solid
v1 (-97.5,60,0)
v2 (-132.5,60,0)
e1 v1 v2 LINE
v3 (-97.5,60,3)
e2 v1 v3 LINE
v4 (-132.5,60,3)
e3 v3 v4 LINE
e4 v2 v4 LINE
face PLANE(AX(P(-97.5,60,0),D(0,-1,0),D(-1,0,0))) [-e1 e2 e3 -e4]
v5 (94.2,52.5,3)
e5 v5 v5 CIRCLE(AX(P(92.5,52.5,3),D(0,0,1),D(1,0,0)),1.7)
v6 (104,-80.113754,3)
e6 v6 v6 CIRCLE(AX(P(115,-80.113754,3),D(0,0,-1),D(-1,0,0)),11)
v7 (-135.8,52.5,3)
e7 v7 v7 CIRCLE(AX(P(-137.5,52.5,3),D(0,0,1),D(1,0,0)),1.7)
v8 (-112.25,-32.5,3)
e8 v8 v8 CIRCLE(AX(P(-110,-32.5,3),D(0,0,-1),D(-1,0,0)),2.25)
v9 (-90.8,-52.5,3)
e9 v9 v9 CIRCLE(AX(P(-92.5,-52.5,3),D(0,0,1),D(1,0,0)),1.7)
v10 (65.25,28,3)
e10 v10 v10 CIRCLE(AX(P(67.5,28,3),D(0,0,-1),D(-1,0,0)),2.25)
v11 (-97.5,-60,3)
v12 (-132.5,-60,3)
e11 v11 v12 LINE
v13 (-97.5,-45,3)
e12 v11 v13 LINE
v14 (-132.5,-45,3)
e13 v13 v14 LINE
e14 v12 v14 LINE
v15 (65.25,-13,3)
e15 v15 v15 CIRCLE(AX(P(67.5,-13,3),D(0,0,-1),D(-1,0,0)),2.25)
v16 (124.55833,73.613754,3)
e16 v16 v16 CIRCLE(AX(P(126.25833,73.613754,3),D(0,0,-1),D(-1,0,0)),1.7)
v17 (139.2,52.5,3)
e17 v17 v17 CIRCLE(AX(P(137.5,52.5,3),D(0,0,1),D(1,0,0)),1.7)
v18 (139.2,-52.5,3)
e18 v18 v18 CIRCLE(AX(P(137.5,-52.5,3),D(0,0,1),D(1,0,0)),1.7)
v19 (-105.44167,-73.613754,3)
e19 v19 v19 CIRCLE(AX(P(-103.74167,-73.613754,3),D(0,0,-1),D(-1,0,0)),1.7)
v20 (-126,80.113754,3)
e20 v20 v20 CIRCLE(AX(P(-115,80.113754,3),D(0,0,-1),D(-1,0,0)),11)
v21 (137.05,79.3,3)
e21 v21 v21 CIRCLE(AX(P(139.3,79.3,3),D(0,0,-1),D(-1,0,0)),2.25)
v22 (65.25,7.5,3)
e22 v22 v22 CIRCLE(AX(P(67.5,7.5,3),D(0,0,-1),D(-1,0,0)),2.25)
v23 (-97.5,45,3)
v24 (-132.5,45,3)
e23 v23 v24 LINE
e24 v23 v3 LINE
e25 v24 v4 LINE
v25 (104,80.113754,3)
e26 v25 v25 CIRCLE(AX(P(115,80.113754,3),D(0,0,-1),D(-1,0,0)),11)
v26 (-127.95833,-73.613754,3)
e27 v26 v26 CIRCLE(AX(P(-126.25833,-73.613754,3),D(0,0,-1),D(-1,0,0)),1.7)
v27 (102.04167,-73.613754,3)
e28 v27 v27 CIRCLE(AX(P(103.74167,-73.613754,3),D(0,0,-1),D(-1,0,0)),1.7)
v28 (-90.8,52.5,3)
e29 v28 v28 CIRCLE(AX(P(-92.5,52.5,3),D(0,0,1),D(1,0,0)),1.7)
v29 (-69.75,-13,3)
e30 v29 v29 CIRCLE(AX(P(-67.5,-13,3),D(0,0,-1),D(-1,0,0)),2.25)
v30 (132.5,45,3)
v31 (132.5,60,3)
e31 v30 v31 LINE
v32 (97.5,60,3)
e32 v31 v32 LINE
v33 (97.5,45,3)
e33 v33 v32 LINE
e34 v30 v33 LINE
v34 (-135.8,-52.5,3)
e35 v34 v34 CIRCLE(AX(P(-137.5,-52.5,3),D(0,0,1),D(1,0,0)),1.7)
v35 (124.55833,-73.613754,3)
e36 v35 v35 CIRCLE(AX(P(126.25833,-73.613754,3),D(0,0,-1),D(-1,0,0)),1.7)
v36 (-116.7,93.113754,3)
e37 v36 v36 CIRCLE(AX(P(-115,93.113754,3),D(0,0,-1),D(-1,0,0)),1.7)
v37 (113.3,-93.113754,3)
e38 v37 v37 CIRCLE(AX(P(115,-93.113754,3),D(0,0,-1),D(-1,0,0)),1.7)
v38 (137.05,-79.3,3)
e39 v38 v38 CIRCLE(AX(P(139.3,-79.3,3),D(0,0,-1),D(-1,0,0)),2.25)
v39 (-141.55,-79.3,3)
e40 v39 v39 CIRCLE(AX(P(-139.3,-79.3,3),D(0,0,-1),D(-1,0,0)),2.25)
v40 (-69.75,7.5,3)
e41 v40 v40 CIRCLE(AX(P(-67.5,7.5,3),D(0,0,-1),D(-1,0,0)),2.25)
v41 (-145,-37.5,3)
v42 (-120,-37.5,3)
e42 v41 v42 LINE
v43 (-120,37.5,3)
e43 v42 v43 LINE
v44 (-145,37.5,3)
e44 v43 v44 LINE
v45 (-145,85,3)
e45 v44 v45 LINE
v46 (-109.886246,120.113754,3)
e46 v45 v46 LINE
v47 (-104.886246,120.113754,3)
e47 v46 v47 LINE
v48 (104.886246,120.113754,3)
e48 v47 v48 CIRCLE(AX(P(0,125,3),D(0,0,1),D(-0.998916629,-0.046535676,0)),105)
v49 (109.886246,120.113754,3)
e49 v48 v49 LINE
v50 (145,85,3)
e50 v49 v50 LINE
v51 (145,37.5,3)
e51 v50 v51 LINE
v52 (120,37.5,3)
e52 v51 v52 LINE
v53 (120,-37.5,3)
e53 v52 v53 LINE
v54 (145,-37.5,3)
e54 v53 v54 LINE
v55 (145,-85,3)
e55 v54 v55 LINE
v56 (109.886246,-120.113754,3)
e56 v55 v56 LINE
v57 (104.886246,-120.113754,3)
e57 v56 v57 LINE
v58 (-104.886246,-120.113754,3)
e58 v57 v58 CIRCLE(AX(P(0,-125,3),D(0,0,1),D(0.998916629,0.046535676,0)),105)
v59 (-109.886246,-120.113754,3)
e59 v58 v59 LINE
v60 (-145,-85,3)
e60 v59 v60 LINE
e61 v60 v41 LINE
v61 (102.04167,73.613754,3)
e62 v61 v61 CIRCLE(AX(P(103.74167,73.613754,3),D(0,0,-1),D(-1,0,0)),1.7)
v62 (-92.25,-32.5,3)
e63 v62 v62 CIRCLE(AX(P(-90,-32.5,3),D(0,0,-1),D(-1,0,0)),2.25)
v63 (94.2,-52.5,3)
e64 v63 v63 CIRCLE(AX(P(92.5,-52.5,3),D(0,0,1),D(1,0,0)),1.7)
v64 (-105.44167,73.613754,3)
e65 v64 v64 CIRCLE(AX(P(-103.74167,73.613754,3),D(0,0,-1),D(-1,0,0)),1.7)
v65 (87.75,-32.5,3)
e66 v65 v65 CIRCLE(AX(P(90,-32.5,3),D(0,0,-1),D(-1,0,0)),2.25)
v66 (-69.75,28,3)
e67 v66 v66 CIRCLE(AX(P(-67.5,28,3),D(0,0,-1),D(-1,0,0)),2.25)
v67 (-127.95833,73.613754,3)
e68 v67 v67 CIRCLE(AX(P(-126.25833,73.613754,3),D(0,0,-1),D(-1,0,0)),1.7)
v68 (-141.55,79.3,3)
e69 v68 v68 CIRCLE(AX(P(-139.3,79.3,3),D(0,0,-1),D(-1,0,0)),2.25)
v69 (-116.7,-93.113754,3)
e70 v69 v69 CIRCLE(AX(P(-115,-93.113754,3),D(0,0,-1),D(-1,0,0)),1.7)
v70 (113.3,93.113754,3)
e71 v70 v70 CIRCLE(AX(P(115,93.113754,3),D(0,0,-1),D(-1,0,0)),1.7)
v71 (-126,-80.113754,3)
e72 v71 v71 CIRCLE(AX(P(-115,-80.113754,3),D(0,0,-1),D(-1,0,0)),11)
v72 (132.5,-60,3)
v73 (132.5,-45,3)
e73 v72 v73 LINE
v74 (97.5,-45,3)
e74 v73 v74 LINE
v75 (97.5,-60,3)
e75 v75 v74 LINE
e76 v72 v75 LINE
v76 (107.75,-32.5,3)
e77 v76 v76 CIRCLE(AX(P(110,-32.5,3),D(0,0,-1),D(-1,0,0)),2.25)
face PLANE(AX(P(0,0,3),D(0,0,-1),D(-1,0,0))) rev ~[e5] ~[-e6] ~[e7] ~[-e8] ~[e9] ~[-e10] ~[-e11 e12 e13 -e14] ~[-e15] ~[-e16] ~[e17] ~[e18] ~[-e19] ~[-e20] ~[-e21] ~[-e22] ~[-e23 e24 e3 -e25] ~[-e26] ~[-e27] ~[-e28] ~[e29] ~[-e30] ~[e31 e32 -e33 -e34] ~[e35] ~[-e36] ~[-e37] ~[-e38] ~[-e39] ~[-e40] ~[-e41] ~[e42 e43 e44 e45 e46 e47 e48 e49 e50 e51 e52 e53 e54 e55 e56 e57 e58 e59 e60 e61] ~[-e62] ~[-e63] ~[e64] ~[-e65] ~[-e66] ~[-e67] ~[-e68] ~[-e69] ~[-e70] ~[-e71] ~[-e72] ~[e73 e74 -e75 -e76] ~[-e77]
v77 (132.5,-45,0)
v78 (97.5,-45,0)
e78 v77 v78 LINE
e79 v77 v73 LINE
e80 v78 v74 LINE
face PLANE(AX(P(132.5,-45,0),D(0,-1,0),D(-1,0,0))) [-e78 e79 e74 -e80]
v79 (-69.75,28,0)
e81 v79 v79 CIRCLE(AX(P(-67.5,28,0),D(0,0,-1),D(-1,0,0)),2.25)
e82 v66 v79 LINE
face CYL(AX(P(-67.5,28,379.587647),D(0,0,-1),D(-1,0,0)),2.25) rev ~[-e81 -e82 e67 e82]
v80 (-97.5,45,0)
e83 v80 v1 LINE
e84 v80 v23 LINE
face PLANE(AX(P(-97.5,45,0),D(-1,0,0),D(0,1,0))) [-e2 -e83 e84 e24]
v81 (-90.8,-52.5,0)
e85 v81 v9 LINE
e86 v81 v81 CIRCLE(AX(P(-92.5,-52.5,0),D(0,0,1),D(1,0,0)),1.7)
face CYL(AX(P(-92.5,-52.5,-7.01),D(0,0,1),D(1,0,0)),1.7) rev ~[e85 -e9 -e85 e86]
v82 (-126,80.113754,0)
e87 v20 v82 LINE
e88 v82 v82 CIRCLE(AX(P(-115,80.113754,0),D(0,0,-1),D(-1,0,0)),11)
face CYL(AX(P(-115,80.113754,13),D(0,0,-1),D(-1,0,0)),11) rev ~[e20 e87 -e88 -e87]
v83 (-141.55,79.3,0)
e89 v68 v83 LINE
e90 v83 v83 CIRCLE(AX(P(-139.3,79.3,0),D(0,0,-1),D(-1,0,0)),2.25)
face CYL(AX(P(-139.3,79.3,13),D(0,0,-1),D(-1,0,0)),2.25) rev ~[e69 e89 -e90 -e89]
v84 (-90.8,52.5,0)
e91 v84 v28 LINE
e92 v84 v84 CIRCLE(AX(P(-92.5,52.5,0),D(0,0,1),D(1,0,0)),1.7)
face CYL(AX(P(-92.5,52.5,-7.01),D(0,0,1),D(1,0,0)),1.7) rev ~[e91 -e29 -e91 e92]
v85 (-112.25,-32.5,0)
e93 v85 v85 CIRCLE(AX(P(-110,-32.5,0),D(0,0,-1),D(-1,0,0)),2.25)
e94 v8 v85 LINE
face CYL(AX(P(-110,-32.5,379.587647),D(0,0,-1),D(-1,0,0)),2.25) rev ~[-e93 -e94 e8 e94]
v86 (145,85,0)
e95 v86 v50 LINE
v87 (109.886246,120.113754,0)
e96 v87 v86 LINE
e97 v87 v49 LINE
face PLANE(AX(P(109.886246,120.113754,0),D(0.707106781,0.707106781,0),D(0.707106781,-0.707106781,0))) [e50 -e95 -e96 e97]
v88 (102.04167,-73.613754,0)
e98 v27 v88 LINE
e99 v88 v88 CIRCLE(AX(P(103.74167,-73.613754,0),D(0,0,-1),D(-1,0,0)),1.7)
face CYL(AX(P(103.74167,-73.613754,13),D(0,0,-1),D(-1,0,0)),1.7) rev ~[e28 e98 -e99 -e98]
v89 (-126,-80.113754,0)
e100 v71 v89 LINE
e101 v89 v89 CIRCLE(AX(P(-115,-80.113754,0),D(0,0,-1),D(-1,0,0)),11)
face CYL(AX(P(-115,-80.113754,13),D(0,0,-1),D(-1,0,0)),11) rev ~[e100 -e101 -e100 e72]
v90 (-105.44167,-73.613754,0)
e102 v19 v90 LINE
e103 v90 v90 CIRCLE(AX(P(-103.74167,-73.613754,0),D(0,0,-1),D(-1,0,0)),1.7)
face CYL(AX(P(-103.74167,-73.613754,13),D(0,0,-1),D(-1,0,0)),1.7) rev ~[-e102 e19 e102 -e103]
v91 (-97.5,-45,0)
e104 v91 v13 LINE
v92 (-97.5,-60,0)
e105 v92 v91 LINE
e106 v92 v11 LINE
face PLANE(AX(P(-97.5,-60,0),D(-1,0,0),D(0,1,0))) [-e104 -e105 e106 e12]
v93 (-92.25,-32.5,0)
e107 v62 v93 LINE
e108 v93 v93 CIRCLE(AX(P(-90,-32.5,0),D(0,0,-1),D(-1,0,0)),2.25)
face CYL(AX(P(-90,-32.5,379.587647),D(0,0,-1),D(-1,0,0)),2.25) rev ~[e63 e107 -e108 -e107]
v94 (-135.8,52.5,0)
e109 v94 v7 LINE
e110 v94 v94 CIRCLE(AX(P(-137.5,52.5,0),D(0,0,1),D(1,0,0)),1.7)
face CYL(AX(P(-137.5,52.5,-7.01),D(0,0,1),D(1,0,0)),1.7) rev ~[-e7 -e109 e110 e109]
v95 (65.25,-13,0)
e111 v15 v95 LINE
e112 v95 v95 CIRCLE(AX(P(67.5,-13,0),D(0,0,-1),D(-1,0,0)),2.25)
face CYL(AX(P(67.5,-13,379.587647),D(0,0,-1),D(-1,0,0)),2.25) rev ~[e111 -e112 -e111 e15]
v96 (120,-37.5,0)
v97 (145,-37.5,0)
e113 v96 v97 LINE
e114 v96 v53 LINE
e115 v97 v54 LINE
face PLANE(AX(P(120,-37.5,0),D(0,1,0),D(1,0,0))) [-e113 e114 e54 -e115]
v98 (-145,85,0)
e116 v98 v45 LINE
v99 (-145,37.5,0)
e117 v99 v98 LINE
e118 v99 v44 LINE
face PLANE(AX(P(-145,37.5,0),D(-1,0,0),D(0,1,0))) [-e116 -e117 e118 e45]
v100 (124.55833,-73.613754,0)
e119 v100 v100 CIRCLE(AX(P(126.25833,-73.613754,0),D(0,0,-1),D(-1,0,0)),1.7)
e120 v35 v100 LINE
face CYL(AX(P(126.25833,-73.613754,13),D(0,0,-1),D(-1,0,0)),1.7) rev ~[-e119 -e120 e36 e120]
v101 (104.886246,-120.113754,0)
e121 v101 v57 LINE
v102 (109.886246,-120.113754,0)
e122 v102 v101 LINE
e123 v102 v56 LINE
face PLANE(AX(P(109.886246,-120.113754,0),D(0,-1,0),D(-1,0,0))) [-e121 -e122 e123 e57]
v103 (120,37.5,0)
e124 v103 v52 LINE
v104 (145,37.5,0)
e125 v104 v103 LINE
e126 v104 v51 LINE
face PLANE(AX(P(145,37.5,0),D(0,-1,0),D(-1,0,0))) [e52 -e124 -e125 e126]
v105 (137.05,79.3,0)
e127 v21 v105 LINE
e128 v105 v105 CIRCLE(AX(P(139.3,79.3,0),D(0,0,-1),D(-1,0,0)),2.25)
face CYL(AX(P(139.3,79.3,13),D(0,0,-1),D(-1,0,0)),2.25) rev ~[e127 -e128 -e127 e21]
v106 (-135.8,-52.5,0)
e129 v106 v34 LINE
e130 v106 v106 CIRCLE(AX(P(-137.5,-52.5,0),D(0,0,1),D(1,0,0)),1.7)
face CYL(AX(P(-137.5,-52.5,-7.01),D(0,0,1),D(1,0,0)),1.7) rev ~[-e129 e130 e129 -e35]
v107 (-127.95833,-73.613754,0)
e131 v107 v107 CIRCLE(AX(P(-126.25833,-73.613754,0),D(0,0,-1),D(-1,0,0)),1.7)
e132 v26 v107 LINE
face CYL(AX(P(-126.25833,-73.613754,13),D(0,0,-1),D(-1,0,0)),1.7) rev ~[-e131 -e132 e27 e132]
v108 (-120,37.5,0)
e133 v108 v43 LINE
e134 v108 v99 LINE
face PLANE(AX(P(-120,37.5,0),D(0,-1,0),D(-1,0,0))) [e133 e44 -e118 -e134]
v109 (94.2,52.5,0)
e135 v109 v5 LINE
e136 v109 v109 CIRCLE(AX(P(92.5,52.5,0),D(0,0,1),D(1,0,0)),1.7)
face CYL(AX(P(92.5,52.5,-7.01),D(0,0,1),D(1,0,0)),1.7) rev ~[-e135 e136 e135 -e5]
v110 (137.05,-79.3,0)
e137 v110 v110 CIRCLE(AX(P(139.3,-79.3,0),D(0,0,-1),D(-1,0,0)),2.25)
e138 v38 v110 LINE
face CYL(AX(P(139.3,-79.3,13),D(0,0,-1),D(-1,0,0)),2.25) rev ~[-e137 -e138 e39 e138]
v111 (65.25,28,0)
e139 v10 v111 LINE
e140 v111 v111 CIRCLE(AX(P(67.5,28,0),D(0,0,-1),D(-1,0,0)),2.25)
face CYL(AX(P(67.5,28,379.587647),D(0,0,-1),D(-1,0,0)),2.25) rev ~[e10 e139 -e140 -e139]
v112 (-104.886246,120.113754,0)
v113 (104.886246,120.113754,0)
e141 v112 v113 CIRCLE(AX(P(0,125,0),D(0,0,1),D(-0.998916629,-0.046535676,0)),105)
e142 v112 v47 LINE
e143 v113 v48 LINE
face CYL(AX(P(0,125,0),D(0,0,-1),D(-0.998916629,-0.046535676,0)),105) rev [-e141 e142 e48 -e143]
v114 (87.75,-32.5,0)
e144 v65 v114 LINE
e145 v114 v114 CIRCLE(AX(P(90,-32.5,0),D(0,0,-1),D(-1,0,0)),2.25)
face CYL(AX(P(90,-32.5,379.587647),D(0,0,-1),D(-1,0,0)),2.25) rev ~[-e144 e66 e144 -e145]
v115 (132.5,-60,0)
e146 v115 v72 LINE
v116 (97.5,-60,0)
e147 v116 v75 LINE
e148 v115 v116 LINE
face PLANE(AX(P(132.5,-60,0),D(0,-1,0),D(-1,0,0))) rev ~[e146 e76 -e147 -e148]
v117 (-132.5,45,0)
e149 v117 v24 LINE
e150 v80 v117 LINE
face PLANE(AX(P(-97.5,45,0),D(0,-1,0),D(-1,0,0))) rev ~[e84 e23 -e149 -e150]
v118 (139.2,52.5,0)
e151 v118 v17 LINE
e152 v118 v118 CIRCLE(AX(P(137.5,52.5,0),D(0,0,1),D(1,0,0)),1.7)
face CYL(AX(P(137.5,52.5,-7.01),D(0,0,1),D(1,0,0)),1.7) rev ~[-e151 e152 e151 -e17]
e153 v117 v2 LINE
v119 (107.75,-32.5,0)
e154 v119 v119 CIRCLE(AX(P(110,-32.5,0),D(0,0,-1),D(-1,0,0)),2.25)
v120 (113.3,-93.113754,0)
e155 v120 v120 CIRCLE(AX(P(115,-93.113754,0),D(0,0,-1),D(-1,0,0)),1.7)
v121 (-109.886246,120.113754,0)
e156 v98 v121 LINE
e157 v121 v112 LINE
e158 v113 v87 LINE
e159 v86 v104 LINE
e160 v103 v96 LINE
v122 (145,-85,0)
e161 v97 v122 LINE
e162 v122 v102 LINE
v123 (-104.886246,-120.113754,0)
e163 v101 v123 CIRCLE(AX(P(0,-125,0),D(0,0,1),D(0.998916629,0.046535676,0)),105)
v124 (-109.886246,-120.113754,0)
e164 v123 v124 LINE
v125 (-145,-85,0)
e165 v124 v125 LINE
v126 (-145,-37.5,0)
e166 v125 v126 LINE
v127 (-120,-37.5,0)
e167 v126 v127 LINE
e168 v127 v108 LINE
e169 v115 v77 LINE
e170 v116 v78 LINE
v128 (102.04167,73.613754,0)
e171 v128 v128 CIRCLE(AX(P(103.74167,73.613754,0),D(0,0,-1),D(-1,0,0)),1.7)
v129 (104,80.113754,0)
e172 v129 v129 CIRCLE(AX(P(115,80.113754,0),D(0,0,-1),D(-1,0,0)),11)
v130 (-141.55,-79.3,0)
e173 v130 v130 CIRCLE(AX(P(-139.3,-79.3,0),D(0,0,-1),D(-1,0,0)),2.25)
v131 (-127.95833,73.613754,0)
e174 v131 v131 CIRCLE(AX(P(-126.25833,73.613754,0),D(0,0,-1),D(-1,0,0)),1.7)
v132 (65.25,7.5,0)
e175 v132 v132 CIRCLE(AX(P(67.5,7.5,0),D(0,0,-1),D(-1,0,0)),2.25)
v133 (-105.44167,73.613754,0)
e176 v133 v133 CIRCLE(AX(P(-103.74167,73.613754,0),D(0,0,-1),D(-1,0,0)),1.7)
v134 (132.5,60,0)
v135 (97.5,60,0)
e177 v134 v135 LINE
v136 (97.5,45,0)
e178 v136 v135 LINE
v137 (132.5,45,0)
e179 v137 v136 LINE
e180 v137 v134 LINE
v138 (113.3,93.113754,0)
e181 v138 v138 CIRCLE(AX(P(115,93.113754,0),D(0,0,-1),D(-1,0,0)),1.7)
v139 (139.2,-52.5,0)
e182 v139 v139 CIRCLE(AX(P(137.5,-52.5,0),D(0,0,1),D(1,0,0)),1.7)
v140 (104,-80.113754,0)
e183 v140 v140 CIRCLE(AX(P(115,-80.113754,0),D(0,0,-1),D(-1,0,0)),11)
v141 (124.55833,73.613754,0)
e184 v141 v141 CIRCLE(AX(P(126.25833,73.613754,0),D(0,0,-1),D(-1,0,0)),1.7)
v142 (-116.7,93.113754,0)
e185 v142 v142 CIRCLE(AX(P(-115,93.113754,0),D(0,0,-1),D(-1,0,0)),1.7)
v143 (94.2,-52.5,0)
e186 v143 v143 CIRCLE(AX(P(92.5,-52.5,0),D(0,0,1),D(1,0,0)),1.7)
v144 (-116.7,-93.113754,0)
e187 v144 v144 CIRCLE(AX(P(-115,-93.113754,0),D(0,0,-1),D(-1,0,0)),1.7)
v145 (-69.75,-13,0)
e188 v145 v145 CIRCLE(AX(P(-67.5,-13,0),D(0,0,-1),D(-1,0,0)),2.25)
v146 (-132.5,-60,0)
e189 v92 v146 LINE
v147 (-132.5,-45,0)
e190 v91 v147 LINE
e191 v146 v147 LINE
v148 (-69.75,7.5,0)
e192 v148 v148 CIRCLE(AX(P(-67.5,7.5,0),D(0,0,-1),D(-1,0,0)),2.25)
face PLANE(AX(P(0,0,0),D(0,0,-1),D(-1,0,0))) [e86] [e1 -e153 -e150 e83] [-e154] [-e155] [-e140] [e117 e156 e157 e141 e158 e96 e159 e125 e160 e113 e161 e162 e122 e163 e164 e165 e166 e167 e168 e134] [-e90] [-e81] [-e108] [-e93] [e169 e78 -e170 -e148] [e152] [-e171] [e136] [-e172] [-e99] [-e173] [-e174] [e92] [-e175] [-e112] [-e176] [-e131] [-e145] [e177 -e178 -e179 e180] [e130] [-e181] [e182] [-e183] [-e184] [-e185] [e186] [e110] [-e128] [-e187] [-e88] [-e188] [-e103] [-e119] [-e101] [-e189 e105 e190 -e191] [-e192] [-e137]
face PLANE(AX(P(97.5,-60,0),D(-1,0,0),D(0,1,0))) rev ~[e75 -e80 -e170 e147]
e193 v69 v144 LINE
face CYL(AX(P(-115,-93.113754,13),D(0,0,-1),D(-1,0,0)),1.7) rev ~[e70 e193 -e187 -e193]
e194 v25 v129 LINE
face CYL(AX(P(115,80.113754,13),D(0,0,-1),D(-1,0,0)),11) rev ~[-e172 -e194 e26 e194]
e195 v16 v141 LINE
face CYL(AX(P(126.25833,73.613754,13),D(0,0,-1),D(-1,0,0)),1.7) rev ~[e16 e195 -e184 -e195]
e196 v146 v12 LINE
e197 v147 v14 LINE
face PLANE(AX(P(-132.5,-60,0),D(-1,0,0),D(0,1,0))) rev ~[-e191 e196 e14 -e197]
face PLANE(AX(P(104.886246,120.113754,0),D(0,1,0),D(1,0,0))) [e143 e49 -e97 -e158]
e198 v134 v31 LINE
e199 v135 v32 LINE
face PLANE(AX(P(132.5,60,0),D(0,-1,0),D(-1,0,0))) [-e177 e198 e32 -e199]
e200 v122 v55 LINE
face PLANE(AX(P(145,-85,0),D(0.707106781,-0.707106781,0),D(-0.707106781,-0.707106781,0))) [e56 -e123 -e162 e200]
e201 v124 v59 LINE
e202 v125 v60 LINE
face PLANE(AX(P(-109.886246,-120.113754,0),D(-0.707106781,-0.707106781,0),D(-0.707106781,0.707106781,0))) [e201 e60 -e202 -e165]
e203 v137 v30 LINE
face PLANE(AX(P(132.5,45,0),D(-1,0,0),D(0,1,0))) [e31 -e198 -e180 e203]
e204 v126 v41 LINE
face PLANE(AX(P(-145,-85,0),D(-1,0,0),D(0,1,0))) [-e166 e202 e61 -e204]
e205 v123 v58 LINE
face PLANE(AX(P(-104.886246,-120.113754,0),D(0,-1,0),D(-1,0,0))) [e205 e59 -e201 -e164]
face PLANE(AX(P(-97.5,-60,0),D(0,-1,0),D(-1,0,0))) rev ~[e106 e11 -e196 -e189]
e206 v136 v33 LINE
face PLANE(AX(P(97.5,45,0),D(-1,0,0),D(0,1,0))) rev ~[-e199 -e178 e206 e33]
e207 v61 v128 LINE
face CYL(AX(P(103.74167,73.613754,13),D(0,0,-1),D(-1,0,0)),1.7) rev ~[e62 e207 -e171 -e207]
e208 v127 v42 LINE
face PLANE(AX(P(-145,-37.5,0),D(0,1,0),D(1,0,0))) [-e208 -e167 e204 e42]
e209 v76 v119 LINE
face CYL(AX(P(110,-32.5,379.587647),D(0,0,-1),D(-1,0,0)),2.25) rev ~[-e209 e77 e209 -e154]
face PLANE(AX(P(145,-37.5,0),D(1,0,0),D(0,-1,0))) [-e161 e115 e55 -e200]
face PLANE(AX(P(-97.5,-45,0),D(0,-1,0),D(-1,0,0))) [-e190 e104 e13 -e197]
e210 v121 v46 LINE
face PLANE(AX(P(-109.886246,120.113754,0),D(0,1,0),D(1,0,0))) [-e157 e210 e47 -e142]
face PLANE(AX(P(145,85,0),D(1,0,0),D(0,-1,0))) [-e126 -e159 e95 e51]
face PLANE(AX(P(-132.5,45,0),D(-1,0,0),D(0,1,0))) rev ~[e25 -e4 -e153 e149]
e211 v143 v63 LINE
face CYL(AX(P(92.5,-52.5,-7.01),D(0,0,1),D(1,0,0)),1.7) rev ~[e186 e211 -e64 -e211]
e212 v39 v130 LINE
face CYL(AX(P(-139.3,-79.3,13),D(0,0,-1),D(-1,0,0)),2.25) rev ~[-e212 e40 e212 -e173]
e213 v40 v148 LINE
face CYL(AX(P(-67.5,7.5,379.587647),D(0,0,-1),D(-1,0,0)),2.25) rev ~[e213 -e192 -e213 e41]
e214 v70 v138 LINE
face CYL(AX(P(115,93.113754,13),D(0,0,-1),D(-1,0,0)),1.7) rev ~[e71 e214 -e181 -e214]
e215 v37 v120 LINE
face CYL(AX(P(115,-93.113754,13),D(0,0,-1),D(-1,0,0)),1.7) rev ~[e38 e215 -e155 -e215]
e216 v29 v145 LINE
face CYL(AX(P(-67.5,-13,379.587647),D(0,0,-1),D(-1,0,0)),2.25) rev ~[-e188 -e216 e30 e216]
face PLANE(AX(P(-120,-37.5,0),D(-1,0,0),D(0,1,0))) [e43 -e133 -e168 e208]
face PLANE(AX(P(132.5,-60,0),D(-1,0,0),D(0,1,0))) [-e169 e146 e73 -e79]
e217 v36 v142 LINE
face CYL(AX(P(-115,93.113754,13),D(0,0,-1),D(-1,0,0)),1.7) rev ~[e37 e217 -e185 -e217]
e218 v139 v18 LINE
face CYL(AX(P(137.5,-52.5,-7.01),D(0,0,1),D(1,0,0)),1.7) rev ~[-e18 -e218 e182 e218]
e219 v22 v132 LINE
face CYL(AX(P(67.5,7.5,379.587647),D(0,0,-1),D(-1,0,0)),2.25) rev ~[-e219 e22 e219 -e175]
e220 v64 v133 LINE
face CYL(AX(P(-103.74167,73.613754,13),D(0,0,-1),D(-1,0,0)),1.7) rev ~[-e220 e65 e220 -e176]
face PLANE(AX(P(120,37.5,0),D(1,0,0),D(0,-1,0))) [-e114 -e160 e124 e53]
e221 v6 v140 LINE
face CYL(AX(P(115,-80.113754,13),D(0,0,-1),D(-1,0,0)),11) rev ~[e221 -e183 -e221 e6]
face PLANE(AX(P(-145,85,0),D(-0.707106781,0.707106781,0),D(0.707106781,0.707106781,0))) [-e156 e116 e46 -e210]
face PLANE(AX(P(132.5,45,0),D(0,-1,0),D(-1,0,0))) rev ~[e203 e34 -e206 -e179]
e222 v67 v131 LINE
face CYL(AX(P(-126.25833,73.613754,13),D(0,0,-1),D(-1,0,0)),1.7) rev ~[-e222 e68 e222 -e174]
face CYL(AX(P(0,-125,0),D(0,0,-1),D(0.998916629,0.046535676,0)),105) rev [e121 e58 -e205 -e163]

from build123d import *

# Parameters (mm, degrees)
BOSS_EXTRU_1_DEPTH      = 3
D_GAGEMENT_M41_D        = 4.5
D_GAGEMENT_M41_DEPTH    = 10
D_GAGEMENT_M41_TIP      = 1.351936393
D_GAGEMENT_M201_D       = 22
D_GAGEMENT_M201_DEPTH   = 10
D_GAGEMENT_M201_TIP     = 6.609466809
D_GAGEMENT_M32_D        = 3.4
D_GAGEMENT_M32_DEPTH    = 10
D_GAGEMENT_M32_TIP      = 1.021463052
D_GAGEMENT_M43_D        = 4.5
ESQUISSE27_W            = 35
ESQUISSE27_H            = 15
ENL_V_MAT_EXTRU_2_DEPTH = 4
D_GAGEMENT_M33_D        = 3.4
D_GAGEMENT_M33_DEPTH    = 7.01
D_GAGEMENT_M33_TIP      = 1.021463052


with BuildPart() as part:
    # Esquisse1 → Boss.-Extru.1 (new body)
    with BuildSketch(Plane.XY):
        with BuildLine():
            Line((-145, 85), (-109.886246, 120.113754))
            Line((-109.886246, 120.113754), (-104.886246, 120.113754))
            ThreePointArc((-104.886246, 120.113754), (0, 20), (104.886246, 120.113754))
            Line((104.886246, 120.113754), (109.886246, 120.113754))
            Line((109.886246, 120.113754), (145, 85))
            Line((145, 85), (145, 37.5))
            Line((145, 37.5), (120, 37.5))
            Line((120, 37.5), (120, -37.5))
            Line((120, -37.5), (145, -37.5))
            Line((145, -37.5), (145, -85))
            Line((145, -85), (109.886246, -120.113754))
            Line((109.886246, -120.113754), (104.886246, -120.113754))
            ThreePointArc((104.886246, -120.113754), (0, -20), (-104.886246, -120.113754))
            Line((-104.886246, -120.113754), (-109.886246, -120.113754))
            Line((-109.886246, -120.113754), (-145, -85))
            Line((-145, -85), (-145, -37.5))
            Line((-145, -37.5), (-120, -37.5))
            Line((-120, -37.5), (-120, 37.5))
            Line((-120, 37.5), (-145, 37.5))
            Line((-145, 37.5), (-145, 85))
        make_face()
    extrude(amount=BOSS_EXTRU_1_DEPTH)

    # Dégagement M41
    with Locations(Plane(origin=(-139.3, 79.3, 3), x_dir=(1, 0, 0), z_dir=(0, 0, 1))):
        with Locations((0, 0), (278.6, 0), (278.6, -158.6), (0, -158.6)):
            Hole(D_GAGEMENT_M41_D / 2, depth=D_GAGEMENT_M41_DEPTH)
            with Locations((0, 0, -(D_GAGEMENT_M41_DEPTH + D_GAGEMENT_M41_TIP / 2))):  # 118° drill point
                Cone(0, D_GAGEMENT_M41_D / 2, D_GAGEMENT_M41_TIP, mode=Mode.SUBTRACT)

    # Dégagement M201
    with Locations(Plane(origin=(-115, 80.113754, 3), x_dir=(1, 0, 0), z_dir=(0, 0, 1))):
        with Locations((0, 0), (230, 0), (230, -160.227508), (0, -160.227508)):
            Hole(D_GAGEMENT_M201_D / 2, depth=D_GAGEMENT_M201_DEPTH)
            with Locations((0, 0, -(D_GAGEMENT_M201_DEPTH + D_GAGEMENT_M201_TIP / 2))):  # 118° drill point
                Cone(0, D_GAGEMENT_M201_D / 2, D_GAGEMENT_M201_TIP, mode=Mode.SUBTRACT)

    # Dégagement M32
    with Locations(Plane.XY.offset(3)):
        with Locations((-103.741669751, 73.613754), (-115, 93.113754), (-126.258330249, 73.613754), (-103.741669751, -73.613754), (-126.258330249, -73.613754), (-115, -93.113754), (115, -93.113754), (126.258330249, -73.613754), (103.741669751, -73.613754), (103.741669751, 73.613754), (115, 93.113754), (126.258330249, 73.613754)):
            Hole(D_GAGEMENT_M32_D / 2, depth=D_GAGEMENT_M32_DEPTH)
            with Locations((0, 0, -(D_GAGEMENT_M32_DEPTH + D_GAGEMENT_M32_TIP / 2))):  # 118° drill point
                Cone(0, D_GAGEMENT_M32_D / 2, D_GAGEMENT_M32_TIP, mode=Mode.SUBTRACT)

    # Dégagement M43 (through all)
    with Locations(Plane.XY.offset(3)):
        with Locations((-110, -32.5), (-90, -32.5), (-67.5, -13), (-67.5, 7.5), (-67.5, 28), (67.5, 28), (67.5, 7.5), (67.5, -13), (90, -32.5), (110, -32.5)):
            Hole(D_GAGEMENT_M43_D / 2)

    # Esquisse27 → Enlèv. mat.-Extru.2 (cut, through all)
    with BuildSketch(Plane(origin=(0, 0, 0), x_dir=(-1, 0, 0), z_dir=(0, 0, -1))):
        with Locations((-115, 52.5)):
            Rectangle(ESQUISSE27_W, ESQUISSE27_H)
        with Locations((-115, -52.5)):
            Rectangle(ESQUISSE27_W, ESQUISSE27_H)
        with Locations((115, -52.5)):
            Rectangle(ESQUISSE27_W, ESQUISSE27_H)
        with Locations((115, 52.5)):
            Rectangle(ESQUISSE27_W, ESQUISSE27_H)
    extrude(amount=-ENL_V_MAT_EXTRU_2_DEPTH, mode=Mode.SUBTRACT)

    # Dégagement M33
    with Locations(Plane(origin=(0, 0, 0), x_dir=(-1, 0, 0), z_dir=(0, 0, -1))):
        with Locations((-137.5, 52.5), (-92.5, 52.5), (-137.5, -52.5), (-92.5, -52.5), (92.5, 52.5), (137.5, 52.5), (92.5, -52.5), (137.5, -52.5)):
            Hole(D_GAGEMENT_M33_D / 2, depth=D_GAGEMENT_M33_DEPTH)
            with Locations((0, 0, -(D_GAGEMENT_M33_DEPTH + D_GAGEMENT_M33_TIP / 2))):  # 118° drill point
                Cone(0, D_GAGEMENT_M33_D / 2, D_GAGEMENT_M33_TIP, mode=Mode.SUBTRACT)


solid = part.part
